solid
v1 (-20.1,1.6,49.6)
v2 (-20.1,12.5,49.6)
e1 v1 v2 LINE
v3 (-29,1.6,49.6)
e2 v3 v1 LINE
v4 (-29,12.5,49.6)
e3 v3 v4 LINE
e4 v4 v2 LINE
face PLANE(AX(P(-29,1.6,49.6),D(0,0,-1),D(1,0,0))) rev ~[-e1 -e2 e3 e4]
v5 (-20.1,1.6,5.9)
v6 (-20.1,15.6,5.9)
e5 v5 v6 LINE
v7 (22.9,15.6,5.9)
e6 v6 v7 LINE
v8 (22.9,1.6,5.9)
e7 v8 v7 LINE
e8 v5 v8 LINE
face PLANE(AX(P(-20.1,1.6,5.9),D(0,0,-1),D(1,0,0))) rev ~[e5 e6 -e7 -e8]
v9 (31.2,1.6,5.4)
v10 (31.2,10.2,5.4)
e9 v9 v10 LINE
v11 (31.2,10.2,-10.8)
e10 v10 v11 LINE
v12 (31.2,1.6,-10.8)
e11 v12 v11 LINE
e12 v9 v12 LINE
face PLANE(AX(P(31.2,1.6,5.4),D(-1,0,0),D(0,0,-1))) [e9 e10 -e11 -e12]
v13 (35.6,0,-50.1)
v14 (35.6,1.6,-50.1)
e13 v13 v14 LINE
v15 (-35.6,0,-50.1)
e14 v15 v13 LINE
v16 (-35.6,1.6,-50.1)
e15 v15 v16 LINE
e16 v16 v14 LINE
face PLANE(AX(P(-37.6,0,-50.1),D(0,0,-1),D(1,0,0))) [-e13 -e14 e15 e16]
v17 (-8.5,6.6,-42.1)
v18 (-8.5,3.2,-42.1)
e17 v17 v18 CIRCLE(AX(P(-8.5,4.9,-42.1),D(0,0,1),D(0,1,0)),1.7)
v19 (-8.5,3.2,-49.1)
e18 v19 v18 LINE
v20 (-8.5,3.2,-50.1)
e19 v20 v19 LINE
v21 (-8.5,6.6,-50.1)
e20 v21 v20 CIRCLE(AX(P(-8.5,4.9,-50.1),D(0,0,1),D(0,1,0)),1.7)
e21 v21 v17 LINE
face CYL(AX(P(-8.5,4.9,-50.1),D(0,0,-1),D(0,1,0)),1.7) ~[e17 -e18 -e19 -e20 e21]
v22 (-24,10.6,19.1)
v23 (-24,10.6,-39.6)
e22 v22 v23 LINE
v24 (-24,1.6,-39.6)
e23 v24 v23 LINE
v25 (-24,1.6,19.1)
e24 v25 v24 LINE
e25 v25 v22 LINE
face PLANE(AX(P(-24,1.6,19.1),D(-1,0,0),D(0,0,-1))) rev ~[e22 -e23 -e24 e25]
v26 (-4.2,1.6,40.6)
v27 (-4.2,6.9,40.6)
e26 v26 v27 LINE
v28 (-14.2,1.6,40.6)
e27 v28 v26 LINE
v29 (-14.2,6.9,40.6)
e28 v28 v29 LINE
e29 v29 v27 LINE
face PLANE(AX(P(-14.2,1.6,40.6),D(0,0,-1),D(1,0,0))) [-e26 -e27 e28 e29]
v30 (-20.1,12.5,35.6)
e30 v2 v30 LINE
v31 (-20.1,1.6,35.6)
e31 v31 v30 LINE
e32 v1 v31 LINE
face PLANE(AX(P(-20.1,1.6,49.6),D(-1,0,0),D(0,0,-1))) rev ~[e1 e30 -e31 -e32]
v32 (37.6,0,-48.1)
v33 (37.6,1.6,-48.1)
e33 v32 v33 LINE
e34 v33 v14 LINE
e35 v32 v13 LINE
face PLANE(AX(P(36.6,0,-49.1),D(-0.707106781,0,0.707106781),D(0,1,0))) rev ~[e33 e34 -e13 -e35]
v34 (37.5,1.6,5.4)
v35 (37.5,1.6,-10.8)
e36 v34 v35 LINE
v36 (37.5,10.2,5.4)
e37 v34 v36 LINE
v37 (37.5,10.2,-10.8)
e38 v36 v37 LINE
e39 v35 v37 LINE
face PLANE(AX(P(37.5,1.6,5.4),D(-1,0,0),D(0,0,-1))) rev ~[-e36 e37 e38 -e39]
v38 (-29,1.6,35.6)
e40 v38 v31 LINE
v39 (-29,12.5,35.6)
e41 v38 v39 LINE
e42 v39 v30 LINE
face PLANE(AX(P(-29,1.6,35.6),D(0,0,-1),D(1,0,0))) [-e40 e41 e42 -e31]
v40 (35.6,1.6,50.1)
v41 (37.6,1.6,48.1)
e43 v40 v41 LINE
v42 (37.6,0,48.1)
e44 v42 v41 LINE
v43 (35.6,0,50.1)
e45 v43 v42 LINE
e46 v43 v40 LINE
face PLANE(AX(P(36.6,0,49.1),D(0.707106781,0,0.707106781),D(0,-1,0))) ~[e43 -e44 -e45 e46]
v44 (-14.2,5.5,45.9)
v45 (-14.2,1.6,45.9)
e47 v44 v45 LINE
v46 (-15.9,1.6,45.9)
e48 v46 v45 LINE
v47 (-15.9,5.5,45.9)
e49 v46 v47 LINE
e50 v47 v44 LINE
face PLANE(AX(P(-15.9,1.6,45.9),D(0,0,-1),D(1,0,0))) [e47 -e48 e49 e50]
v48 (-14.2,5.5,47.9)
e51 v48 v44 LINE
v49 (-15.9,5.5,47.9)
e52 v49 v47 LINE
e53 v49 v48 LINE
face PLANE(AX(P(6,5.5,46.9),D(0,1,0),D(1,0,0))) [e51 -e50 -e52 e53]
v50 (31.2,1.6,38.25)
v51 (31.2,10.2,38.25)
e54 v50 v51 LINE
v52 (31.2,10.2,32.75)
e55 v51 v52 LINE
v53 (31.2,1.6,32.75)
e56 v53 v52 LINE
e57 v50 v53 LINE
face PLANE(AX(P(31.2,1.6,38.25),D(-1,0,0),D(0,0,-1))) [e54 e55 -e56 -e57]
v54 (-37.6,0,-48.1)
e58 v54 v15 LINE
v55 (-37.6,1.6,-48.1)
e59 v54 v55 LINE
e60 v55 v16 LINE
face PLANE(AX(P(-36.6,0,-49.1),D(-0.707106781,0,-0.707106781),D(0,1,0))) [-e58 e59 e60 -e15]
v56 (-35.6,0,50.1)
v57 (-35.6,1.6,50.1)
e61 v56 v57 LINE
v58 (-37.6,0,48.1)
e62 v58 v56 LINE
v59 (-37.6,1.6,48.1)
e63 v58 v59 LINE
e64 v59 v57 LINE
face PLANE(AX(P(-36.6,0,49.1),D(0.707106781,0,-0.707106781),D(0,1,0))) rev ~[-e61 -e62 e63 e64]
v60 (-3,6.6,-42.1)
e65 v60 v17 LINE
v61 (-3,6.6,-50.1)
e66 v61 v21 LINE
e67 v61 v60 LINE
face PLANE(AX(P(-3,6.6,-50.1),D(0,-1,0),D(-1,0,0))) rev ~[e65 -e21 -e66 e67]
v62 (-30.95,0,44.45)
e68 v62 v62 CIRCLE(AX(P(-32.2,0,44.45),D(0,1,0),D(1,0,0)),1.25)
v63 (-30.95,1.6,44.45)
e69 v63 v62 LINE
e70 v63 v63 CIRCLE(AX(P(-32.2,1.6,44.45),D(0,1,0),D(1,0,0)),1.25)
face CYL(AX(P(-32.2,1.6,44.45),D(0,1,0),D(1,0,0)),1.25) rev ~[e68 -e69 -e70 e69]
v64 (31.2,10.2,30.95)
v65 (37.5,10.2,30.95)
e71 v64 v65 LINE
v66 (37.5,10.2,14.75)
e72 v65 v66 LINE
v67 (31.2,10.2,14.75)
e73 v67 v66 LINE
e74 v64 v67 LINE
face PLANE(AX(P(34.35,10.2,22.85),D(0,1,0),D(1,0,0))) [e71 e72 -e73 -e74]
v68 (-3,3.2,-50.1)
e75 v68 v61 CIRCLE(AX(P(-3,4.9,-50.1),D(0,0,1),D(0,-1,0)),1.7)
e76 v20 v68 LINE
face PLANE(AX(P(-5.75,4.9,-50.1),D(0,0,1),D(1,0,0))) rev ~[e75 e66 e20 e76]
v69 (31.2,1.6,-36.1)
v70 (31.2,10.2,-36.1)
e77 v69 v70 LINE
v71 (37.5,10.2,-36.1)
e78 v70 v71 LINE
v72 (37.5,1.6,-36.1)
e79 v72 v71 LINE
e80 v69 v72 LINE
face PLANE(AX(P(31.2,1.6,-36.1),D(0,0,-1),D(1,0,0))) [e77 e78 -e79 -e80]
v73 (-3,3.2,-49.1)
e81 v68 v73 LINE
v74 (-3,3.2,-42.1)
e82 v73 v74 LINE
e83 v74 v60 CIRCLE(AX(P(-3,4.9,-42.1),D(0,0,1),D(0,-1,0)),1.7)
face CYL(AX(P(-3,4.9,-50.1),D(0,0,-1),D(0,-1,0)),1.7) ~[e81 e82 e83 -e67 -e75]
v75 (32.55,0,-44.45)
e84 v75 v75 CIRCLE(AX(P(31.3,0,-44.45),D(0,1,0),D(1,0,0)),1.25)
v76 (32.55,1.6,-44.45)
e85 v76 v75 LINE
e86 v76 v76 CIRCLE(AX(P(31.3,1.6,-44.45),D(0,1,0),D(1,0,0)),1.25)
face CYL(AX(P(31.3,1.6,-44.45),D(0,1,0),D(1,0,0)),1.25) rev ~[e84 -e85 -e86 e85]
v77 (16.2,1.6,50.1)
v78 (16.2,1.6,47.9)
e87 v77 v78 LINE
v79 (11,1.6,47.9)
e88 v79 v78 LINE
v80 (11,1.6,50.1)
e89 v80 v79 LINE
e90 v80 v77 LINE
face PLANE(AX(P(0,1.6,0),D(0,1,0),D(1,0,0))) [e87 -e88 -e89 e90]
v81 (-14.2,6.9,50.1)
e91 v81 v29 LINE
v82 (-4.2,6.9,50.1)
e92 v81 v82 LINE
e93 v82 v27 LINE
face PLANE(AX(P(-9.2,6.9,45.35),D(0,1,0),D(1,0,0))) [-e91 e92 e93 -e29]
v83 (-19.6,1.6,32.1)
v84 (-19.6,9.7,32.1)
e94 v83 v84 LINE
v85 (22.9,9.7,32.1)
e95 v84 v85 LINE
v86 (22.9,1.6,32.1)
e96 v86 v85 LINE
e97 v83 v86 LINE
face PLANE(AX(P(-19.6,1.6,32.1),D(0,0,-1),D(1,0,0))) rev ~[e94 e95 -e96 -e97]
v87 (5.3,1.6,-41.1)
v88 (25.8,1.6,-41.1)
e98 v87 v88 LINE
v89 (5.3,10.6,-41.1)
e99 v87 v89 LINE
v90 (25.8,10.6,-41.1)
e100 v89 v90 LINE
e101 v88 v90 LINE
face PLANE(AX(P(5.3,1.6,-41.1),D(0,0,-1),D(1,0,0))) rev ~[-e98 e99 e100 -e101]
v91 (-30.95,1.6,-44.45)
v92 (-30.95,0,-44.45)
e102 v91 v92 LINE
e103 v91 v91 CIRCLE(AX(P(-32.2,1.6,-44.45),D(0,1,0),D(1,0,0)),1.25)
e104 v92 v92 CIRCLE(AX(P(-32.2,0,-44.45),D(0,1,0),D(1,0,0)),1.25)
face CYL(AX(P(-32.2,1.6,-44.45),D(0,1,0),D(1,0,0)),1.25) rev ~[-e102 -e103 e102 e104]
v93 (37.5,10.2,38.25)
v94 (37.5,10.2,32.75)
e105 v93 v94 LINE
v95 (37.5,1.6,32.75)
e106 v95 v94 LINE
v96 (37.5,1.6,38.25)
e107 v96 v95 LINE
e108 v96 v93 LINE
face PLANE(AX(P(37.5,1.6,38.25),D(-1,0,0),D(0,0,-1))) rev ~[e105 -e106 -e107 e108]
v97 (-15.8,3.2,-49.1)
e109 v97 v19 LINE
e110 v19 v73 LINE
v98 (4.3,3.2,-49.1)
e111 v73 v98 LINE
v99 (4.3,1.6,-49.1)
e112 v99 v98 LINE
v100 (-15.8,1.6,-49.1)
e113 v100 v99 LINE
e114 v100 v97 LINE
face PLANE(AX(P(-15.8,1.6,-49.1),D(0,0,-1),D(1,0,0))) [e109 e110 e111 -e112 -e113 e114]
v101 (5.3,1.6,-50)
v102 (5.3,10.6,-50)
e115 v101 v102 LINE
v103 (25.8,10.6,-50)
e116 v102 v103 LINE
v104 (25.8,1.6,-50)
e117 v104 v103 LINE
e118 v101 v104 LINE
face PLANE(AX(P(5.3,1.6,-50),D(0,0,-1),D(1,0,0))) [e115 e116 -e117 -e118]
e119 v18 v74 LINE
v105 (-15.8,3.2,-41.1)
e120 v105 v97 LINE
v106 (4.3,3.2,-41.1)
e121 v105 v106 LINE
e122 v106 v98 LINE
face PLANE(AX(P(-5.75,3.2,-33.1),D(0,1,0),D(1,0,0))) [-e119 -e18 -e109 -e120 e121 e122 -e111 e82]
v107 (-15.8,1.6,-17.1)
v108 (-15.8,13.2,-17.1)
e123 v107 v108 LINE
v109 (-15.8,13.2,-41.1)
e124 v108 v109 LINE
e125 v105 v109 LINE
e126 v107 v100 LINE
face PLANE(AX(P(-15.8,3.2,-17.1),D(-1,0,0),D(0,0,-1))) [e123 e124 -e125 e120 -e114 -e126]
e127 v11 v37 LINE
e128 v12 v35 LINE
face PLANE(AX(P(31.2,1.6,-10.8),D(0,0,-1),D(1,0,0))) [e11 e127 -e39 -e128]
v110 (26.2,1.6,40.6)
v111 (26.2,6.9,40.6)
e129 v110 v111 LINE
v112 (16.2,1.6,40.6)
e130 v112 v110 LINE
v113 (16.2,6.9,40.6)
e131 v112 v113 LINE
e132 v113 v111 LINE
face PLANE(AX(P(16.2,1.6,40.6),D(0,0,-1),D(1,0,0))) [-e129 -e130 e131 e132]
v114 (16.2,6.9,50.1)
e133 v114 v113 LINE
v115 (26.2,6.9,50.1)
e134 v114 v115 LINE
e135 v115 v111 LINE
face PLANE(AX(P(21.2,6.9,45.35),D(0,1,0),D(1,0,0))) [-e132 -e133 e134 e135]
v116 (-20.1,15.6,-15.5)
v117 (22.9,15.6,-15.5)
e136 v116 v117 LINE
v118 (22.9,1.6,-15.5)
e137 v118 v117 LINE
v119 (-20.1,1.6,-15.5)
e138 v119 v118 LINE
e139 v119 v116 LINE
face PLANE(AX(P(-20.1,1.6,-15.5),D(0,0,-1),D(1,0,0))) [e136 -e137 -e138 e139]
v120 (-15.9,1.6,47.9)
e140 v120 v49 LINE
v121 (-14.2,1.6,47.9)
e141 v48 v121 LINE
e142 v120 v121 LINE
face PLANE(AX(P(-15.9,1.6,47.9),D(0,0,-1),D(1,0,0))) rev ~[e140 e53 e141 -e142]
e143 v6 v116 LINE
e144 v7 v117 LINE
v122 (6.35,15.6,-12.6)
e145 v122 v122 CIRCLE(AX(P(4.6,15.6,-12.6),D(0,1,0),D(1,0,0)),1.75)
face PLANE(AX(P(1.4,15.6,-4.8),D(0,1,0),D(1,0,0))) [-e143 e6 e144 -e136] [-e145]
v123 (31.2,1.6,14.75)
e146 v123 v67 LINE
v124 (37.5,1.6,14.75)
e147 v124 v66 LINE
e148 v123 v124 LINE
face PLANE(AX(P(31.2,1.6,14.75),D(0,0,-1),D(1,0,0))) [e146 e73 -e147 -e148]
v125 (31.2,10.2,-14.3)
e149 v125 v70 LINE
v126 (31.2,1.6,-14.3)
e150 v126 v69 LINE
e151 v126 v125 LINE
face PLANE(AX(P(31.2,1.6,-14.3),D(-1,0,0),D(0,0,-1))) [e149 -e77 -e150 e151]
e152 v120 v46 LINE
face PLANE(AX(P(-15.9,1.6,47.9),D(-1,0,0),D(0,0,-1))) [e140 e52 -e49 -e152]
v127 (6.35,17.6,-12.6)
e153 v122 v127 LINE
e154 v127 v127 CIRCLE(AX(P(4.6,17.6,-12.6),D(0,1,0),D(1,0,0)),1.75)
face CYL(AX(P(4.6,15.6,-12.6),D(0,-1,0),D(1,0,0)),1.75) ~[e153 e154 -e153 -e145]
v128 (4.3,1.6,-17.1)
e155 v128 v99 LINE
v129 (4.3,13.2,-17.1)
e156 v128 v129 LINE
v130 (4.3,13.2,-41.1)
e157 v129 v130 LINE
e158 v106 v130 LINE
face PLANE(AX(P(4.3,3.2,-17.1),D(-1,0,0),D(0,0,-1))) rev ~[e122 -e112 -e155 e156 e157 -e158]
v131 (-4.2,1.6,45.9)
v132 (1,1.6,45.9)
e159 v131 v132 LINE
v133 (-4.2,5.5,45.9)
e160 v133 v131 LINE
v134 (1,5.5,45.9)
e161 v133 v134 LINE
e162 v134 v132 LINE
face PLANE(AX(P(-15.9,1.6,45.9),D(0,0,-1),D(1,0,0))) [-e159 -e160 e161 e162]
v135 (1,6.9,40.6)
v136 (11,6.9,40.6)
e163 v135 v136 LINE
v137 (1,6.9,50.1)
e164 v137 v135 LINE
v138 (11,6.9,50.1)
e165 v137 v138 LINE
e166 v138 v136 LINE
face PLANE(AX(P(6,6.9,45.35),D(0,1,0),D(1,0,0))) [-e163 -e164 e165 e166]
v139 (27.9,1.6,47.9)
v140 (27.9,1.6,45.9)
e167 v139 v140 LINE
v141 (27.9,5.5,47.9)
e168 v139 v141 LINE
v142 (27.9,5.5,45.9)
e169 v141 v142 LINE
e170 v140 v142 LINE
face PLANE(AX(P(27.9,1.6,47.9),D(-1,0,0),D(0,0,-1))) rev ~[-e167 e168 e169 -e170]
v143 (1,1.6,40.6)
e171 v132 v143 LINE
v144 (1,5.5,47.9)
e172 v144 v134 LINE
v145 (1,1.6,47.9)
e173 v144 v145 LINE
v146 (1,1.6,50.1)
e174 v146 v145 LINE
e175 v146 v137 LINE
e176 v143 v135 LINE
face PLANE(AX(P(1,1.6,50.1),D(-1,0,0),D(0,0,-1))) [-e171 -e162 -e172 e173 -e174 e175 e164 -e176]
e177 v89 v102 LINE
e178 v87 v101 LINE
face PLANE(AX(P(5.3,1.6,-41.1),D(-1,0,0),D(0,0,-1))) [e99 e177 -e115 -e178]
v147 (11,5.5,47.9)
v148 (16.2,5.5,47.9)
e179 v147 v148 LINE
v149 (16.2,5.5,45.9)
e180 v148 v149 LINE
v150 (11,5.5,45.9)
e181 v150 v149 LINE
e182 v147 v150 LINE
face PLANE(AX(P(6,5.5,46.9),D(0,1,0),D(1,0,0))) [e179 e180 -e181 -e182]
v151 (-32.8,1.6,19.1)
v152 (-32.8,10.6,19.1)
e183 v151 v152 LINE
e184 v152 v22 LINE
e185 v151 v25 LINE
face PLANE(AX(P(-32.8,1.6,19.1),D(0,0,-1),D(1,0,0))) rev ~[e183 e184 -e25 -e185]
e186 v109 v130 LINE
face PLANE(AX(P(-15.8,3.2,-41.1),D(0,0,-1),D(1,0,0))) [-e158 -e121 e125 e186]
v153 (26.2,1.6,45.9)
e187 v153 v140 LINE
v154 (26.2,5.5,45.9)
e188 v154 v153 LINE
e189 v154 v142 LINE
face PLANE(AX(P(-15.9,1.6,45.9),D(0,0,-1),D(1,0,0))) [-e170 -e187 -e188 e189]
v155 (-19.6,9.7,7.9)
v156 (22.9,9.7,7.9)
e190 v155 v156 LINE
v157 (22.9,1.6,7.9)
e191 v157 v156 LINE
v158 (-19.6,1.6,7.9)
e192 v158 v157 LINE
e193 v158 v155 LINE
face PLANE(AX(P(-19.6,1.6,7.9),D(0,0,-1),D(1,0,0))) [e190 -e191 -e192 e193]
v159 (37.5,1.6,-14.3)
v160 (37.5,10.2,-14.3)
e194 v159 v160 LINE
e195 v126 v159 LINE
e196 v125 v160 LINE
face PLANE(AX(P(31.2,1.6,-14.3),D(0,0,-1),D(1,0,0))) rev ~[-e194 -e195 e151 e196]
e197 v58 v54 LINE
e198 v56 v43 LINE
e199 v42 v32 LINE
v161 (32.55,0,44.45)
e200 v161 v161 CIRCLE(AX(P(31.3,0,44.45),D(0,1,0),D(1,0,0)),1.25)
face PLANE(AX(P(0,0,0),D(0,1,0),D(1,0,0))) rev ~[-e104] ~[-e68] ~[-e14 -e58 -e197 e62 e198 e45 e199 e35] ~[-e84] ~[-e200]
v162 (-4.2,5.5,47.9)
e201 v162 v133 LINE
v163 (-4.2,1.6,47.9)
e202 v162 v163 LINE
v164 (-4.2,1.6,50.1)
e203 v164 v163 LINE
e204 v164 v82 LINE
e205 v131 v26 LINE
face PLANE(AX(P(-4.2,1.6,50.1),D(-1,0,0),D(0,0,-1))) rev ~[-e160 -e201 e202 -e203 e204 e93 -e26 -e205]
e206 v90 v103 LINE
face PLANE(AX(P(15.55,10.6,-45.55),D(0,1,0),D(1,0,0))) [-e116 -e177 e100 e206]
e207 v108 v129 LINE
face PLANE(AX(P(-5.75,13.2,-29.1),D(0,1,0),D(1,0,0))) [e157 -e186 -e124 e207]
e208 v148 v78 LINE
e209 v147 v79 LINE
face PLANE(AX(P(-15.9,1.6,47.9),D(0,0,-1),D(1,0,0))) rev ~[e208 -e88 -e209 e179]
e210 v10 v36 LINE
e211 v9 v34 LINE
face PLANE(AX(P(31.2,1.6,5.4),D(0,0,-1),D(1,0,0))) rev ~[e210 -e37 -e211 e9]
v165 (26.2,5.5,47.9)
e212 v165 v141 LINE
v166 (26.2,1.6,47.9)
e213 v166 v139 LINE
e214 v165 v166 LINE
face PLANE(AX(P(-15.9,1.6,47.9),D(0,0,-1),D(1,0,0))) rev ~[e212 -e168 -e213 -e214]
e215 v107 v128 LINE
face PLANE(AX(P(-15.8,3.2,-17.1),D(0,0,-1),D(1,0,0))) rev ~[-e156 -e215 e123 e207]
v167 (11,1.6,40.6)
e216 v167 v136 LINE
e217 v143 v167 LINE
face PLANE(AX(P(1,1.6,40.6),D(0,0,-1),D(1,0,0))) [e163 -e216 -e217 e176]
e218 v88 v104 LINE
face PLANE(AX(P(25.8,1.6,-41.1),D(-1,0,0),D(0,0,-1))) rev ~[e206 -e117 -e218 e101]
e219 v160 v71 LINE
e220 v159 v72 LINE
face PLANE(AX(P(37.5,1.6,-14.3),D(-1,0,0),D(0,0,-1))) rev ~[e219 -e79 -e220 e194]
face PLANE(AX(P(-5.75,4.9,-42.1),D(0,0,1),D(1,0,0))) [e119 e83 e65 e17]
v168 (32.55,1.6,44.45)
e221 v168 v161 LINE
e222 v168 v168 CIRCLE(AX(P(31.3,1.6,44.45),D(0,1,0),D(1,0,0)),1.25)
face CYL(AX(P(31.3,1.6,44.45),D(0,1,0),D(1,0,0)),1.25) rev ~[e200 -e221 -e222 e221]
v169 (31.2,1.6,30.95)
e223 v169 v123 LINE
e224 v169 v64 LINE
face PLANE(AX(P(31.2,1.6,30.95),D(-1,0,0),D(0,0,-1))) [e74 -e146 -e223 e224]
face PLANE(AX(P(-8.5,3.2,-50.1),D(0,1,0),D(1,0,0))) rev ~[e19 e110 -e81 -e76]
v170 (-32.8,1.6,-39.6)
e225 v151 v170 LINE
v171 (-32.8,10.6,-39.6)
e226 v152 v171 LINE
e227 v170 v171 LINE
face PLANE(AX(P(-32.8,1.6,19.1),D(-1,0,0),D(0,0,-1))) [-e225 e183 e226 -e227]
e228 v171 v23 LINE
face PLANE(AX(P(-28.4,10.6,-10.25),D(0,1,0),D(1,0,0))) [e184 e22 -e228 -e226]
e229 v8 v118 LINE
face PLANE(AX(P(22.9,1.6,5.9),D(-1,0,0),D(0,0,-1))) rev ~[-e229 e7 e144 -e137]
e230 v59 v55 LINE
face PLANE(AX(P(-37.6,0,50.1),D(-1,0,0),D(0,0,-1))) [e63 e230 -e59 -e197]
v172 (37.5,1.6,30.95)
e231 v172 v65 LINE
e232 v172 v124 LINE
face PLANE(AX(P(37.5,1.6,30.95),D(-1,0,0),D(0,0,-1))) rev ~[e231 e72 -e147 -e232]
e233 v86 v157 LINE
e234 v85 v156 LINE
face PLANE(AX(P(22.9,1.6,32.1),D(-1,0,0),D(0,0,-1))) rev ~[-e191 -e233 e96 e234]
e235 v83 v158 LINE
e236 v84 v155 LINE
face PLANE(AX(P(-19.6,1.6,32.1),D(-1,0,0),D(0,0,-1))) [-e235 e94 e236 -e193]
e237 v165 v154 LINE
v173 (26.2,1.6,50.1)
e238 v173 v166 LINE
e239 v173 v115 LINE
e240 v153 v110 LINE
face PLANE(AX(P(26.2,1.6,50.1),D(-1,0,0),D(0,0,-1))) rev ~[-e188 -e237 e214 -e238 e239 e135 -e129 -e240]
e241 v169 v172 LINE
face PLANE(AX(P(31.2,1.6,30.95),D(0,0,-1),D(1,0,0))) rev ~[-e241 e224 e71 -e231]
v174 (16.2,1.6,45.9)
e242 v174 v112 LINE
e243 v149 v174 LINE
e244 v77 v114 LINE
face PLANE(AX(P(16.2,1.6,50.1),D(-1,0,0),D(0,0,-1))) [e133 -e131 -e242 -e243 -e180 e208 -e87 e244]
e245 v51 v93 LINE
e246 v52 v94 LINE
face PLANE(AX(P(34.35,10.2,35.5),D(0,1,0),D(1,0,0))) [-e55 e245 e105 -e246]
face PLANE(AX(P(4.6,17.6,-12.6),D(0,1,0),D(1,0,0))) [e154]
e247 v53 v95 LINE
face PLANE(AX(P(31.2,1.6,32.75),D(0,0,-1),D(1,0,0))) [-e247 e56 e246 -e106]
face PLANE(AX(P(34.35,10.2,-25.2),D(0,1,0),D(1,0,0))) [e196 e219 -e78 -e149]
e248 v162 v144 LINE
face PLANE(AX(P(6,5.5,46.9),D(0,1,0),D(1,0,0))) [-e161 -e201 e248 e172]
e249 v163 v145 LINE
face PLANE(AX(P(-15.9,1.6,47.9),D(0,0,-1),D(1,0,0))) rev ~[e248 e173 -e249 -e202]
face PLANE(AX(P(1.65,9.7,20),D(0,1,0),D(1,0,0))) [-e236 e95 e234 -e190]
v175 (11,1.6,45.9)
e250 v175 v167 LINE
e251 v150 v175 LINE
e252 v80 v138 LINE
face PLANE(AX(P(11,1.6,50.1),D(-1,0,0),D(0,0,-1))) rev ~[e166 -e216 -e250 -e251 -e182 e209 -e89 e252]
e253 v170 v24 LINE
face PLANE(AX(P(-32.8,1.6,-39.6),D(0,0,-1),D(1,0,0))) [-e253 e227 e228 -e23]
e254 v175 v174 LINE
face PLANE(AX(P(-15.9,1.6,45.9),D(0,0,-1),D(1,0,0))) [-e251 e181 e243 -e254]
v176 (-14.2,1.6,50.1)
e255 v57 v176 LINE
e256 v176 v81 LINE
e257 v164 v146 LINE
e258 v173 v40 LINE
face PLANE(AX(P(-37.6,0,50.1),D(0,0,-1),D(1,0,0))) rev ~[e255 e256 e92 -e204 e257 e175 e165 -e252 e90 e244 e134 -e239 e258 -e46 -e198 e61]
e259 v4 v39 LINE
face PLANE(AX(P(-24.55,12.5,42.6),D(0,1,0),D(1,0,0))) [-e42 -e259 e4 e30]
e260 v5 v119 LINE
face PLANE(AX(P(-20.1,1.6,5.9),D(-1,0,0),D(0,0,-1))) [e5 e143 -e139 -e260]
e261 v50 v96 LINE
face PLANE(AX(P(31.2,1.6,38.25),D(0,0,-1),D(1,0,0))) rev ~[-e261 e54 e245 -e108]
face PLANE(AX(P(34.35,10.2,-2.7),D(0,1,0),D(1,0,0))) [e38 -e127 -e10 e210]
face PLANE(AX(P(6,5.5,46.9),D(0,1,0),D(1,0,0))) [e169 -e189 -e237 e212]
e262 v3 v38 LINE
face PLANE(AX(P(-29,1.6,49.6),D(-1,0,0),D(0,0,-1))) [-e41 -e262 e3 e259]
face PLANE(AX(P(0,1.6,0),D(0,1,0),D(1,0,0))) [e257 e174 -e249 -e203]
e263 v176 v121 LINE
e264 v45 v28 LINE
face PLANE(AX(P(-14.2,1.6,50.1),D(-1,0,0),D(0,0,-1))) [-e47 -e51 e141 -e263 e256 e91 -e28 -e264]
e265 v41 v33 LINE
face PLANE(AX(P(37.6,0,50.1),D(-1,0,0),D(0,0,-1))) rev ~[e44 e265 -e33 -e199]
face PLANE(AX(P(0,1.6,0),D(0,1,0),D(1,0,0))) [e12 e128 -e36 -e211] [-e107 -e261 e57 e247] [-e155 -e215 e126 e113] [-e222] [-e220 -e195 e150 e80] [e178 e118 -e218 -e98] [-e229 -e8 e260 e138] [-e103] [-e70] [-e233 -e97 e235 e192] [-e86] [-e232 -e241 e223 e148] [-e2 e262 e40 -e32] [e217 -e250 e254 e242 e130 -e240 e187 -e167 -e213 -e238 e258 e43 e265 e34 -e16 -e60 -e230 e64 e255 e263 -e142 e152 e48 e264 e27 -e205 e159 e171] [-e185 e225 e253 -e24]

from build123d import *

# Parameters (mm, degrees)
SKETCH1_W            = 75.2
SKETCH1_H            = 100.2
BOSS_EXTRUDE1_DEPTH  = 1.6
CHAMFER1_SIZE        = 2
SKETCH2_R            = 1.25
CUT_EXTRUDE1_DEPTH   = 2.6
SKETCH3_W            = 8.8
SKETCH3_H            = 58.7
SKETCH3_W_2          = 20.5
SKETCH3_H_2          = 8.9
BOSS_EXTRUDE2_DEPTH  = 9
SKETCH3_3_W          = 20.1
SKETCH3_3_H          = 32
BOSS_EXTRUDE3_DEPTH  = 1.6
SKETCH3_4_W          = 6.3
SKETCH3_4_H          = 21.8
SKETCH3_4_H_2        = 16.2
SKETCH3_4_H_3        = 5.5
BOSS_EXTRUDE4_DEPTH  = 8.6
SKETCH3_5_W          = 10
SKETCH3_5_H          = 9.5
BOSS_EXTRUDE5_DEPTH  = 5.3
SKETCH3_6_W          = 8.9
SKETCH3_6_H          = 14
BOSS_EXTRUDE6_DEPTH  = 10.9
BOSS_EXTRUDE7_DEPTH  = 8
SKETCH5_W            = 43.8
SKETCH5_H            = 2
BOSS_EXTRUDE8_DEPTH  = 3.9
SKETCH7_W            = 42.5
SKETCH7_H            = 24.2
BOSS_EXTRUDE9_DEPTH  = 8.1
SKETCH7_3_W          = 43
SKETCH7_3_H          = 21.4
BOSS_EXTRUDE10_DEPTH = 14
SKETCH8_W            = 20.1
SKETCH8_H            = 24
BOSS_EXTRUDE11_DEPTH = 10
SKETCH9_R            = 1.75
BOSS_EXTRUDE12_DEPTH = 2


with BuildPart() as part:
    # Sketch1 → Boss-Extrude1 (new body)
    with BuildSketch(Plane(origin=(0, 0, 0), x_dir=(1, 0, 0), z_dir=(0, 1, 0))):
        Rectangle(SKETCH1_W, SKETCH1_H)
    extrude(amount=BOSS_EXTRUDE1_DEPTH)

    # Chamfer1
    chamfer1_edges = [part.edges().sort_by_distance(p)[0] for p in [
        (37.6, 0.8, 50.1),
        (-37.6, 0.8, 50.1),
        (-37.6, 0.8, -50.1),
        (37.6, 0.8, -50.1),
    ]]
    chamfer(chamfer1_edges, length=CHAMFER1_SIZE)

    # Sketch2 → Cut-Extrude1 (cut, through all)
    with BuildSketch(Plane(origin=(0, 1.6, 0), x_dir=(1, 0, 0), z_dir=(0, 1, 0))):
        with Locations((-32.2, 44.45)):
            Circle(SKETCH2_R)
        with Locations((-32.2, -44.45)):
            Circle(SKETCH2_R)
        with Locations((31.3, -44.45)):
            Circle(SKETCH2_R)
        with Locations((31.3, 44.45)):
            Circle(SKETCH2_R)
    extrude(amount=-CUT_EXTRUDE1_DEPTH, mode=Mode.SUBTRACT)

    # Sketch3 → Boss-Extrude2 (add)
    with BuildSketch(Plane(origin=(0, 1.6, 0), x_dir=(1, 0, 0), z_dir=(0, 1, 0))):
        with Locations((-28.4, 10.25)):
            Rectangle(SKETCH3_W, SKETCH3_H)
        with Locations((15.55, 45.55)):
            Rectangle(SKETCH3_W_2, SKETCH3_H_2)
    extrude(amount=BOSS_EXTRUDE2_DEPTH)

    # Sketch3<3> → Boss-Extrude3 (add)
    with BuildSketch(Plane(origin=(0, 1.6, 0), x_dir=(1, 0, 0), z_dir=(0, 1, 0))):
        with Locations((-5.75, 33.1)):
            Rectangle(SKETCH3_3_W, SKETCH3_3_H)
    extrude(amount=BOSS_EXTRUDE3_DEPTH)

    # Sketch3<4> → Boss-Extrude4 (add)
    with BuildSketch(Plane(origin=(0, 1.6, 0), x_dir=(1, 0, 0), z_dir=(0, 1, 0))):
        with Locations((34.35, 25.2)):
            Rectangle(SKETCH3_4_W, SKETCH3_4_H)
        with Locations((34.35, 2.7)):
            Rectangle(SKETCH3_4_W, SKETCH3_4_H_2)
        with Locations((34.35, -22.85)):
            Rectangle(SKETCH3_4_W, SKETCH3_4_H_2)
        with Locations((34.35, -35.5)):
            Rectangle(SKETCH3_4_W, SKETCH3_4_H_3)
    extrude(amount=BOSS_EXTRUDE4_DEPTH)

    # Sketch3<5> → Boss-Extrude5 (add)
    with BuildSketch(Plane(origin=(0, 1.6, 0), x_dir=(1, 0, 0), z_dir=(0, 1, 0))):
        with Locations((-9.2, -45.35)):
            Rectangle(SKETCH3_5_W, SKETCH3_5_H)
        with Locations((6, -45.35)):
            Rectangle(SKETCH3_5_W, SKETCH3_5_H)
        with Locations((21.2, -45.35)):
            Rectangle(SKETCH3_5_W, SKETCH3_5_H)
    extrude(amount=BOSS_EXTRUDE5_DEPTH)

    # Sketch3<6> → Boss-Extrude6 (add)
    with BuildSketch(Plane(origin=(0, 1.6, 0), x_dir=(1, 0, 0), z_dir=(0, 1, 0))):
        with Locations((-24.55, -42.6)):
            Rectangle(SKETCH3_6_W, SKETCH3_6_H)
    extrude(amount=BOSS_EXTRUDE6_DEPTH)

    # Sketch4 → Boss-Extrude7 (add)
    with BuildSketch(Plane(origin=(0, 0, -50.1), x_dir=(-1, 0, 0), z_dir=(0, 0, -1))):
        with BuildLine():
            Line((8.5, 3.2), (3, 3.2))
            ThreePointArc((3, 3.2), (1.3, 4.9), (3, 6.6))
            Line((3, 6.6), (8.5, 6.6))
            ThreePointArc((8.5, 6.6), (10.2, 4.9), (8.5, 3.2))
        make_face()
    extrude(amount=-BOSS_EXTRUDE7_DEPTH)

    # Sketch5 → Boss-Extrude8 (add)
    with BuildSketch(Plane(origin=(0, 1.6, 0), x_dir=(1, 0, 0), z_dir=(0, 1, 0))):
        with Locations((6, -46.9)):
            Rectangle(SKETCH5_W, SKETCH5_H)
    extrude(amount=BOSS_EXTRUDE8_DEPTH)

    # Sketch7 → Boss-Extrude9 (add)
    with BuildSketch(Plane(origin=(0, 1.6, 0), x_dir=(1, 0, 0), z_dir=(0, 1, 0))):
        with Locations((1.65, -20)):
            Rectangle(SKETCH7_W, SKETCH7_H)
    extrude(amount=BOSS_EXTRUDE9_DEPTH)

    # Sketch7<3> → Boss-Extrude10 (add)
    with BuildSketch(Plane(origin=(0, 1.6, 0), x_dir=(1, 0, 0), z_dir=(0, 1, 0))):
        with Locations((1.4, 4.8)):
            Rectangle(SKETCH7_3_W, SKETCH7_3_H)
    extrude(amount=BOSS_EXTRUDE10_DEPTH)

    # Sketch8 → Boss-Extrude11 (add)
    with BuildSketch(Plane(origin=(0, 3.2, 0), x_dir=(1, 0, 0), z_dir=(0, 1, 0))):
        with Locations((-5.75, 29.1)):
            Rectangle(SKETCH8_W, SKETCH8_H)
    extrude(amount=BOSS_EXTRUDE11_DEPTH)

    # Sketch9 → Boss-Extrude12 (add)
    with BuildSketch(Plane(origin=(0, 15.6, 0), x_dir=(1, 0, 0), z_dir=(0, 1, 0))):
        with Locations((4.6, 12.6)):
            Circle(SKETCH9_R)
    extrude(amount=BOSS_EXTRUDE12_DEPTH)


solid = part.part
